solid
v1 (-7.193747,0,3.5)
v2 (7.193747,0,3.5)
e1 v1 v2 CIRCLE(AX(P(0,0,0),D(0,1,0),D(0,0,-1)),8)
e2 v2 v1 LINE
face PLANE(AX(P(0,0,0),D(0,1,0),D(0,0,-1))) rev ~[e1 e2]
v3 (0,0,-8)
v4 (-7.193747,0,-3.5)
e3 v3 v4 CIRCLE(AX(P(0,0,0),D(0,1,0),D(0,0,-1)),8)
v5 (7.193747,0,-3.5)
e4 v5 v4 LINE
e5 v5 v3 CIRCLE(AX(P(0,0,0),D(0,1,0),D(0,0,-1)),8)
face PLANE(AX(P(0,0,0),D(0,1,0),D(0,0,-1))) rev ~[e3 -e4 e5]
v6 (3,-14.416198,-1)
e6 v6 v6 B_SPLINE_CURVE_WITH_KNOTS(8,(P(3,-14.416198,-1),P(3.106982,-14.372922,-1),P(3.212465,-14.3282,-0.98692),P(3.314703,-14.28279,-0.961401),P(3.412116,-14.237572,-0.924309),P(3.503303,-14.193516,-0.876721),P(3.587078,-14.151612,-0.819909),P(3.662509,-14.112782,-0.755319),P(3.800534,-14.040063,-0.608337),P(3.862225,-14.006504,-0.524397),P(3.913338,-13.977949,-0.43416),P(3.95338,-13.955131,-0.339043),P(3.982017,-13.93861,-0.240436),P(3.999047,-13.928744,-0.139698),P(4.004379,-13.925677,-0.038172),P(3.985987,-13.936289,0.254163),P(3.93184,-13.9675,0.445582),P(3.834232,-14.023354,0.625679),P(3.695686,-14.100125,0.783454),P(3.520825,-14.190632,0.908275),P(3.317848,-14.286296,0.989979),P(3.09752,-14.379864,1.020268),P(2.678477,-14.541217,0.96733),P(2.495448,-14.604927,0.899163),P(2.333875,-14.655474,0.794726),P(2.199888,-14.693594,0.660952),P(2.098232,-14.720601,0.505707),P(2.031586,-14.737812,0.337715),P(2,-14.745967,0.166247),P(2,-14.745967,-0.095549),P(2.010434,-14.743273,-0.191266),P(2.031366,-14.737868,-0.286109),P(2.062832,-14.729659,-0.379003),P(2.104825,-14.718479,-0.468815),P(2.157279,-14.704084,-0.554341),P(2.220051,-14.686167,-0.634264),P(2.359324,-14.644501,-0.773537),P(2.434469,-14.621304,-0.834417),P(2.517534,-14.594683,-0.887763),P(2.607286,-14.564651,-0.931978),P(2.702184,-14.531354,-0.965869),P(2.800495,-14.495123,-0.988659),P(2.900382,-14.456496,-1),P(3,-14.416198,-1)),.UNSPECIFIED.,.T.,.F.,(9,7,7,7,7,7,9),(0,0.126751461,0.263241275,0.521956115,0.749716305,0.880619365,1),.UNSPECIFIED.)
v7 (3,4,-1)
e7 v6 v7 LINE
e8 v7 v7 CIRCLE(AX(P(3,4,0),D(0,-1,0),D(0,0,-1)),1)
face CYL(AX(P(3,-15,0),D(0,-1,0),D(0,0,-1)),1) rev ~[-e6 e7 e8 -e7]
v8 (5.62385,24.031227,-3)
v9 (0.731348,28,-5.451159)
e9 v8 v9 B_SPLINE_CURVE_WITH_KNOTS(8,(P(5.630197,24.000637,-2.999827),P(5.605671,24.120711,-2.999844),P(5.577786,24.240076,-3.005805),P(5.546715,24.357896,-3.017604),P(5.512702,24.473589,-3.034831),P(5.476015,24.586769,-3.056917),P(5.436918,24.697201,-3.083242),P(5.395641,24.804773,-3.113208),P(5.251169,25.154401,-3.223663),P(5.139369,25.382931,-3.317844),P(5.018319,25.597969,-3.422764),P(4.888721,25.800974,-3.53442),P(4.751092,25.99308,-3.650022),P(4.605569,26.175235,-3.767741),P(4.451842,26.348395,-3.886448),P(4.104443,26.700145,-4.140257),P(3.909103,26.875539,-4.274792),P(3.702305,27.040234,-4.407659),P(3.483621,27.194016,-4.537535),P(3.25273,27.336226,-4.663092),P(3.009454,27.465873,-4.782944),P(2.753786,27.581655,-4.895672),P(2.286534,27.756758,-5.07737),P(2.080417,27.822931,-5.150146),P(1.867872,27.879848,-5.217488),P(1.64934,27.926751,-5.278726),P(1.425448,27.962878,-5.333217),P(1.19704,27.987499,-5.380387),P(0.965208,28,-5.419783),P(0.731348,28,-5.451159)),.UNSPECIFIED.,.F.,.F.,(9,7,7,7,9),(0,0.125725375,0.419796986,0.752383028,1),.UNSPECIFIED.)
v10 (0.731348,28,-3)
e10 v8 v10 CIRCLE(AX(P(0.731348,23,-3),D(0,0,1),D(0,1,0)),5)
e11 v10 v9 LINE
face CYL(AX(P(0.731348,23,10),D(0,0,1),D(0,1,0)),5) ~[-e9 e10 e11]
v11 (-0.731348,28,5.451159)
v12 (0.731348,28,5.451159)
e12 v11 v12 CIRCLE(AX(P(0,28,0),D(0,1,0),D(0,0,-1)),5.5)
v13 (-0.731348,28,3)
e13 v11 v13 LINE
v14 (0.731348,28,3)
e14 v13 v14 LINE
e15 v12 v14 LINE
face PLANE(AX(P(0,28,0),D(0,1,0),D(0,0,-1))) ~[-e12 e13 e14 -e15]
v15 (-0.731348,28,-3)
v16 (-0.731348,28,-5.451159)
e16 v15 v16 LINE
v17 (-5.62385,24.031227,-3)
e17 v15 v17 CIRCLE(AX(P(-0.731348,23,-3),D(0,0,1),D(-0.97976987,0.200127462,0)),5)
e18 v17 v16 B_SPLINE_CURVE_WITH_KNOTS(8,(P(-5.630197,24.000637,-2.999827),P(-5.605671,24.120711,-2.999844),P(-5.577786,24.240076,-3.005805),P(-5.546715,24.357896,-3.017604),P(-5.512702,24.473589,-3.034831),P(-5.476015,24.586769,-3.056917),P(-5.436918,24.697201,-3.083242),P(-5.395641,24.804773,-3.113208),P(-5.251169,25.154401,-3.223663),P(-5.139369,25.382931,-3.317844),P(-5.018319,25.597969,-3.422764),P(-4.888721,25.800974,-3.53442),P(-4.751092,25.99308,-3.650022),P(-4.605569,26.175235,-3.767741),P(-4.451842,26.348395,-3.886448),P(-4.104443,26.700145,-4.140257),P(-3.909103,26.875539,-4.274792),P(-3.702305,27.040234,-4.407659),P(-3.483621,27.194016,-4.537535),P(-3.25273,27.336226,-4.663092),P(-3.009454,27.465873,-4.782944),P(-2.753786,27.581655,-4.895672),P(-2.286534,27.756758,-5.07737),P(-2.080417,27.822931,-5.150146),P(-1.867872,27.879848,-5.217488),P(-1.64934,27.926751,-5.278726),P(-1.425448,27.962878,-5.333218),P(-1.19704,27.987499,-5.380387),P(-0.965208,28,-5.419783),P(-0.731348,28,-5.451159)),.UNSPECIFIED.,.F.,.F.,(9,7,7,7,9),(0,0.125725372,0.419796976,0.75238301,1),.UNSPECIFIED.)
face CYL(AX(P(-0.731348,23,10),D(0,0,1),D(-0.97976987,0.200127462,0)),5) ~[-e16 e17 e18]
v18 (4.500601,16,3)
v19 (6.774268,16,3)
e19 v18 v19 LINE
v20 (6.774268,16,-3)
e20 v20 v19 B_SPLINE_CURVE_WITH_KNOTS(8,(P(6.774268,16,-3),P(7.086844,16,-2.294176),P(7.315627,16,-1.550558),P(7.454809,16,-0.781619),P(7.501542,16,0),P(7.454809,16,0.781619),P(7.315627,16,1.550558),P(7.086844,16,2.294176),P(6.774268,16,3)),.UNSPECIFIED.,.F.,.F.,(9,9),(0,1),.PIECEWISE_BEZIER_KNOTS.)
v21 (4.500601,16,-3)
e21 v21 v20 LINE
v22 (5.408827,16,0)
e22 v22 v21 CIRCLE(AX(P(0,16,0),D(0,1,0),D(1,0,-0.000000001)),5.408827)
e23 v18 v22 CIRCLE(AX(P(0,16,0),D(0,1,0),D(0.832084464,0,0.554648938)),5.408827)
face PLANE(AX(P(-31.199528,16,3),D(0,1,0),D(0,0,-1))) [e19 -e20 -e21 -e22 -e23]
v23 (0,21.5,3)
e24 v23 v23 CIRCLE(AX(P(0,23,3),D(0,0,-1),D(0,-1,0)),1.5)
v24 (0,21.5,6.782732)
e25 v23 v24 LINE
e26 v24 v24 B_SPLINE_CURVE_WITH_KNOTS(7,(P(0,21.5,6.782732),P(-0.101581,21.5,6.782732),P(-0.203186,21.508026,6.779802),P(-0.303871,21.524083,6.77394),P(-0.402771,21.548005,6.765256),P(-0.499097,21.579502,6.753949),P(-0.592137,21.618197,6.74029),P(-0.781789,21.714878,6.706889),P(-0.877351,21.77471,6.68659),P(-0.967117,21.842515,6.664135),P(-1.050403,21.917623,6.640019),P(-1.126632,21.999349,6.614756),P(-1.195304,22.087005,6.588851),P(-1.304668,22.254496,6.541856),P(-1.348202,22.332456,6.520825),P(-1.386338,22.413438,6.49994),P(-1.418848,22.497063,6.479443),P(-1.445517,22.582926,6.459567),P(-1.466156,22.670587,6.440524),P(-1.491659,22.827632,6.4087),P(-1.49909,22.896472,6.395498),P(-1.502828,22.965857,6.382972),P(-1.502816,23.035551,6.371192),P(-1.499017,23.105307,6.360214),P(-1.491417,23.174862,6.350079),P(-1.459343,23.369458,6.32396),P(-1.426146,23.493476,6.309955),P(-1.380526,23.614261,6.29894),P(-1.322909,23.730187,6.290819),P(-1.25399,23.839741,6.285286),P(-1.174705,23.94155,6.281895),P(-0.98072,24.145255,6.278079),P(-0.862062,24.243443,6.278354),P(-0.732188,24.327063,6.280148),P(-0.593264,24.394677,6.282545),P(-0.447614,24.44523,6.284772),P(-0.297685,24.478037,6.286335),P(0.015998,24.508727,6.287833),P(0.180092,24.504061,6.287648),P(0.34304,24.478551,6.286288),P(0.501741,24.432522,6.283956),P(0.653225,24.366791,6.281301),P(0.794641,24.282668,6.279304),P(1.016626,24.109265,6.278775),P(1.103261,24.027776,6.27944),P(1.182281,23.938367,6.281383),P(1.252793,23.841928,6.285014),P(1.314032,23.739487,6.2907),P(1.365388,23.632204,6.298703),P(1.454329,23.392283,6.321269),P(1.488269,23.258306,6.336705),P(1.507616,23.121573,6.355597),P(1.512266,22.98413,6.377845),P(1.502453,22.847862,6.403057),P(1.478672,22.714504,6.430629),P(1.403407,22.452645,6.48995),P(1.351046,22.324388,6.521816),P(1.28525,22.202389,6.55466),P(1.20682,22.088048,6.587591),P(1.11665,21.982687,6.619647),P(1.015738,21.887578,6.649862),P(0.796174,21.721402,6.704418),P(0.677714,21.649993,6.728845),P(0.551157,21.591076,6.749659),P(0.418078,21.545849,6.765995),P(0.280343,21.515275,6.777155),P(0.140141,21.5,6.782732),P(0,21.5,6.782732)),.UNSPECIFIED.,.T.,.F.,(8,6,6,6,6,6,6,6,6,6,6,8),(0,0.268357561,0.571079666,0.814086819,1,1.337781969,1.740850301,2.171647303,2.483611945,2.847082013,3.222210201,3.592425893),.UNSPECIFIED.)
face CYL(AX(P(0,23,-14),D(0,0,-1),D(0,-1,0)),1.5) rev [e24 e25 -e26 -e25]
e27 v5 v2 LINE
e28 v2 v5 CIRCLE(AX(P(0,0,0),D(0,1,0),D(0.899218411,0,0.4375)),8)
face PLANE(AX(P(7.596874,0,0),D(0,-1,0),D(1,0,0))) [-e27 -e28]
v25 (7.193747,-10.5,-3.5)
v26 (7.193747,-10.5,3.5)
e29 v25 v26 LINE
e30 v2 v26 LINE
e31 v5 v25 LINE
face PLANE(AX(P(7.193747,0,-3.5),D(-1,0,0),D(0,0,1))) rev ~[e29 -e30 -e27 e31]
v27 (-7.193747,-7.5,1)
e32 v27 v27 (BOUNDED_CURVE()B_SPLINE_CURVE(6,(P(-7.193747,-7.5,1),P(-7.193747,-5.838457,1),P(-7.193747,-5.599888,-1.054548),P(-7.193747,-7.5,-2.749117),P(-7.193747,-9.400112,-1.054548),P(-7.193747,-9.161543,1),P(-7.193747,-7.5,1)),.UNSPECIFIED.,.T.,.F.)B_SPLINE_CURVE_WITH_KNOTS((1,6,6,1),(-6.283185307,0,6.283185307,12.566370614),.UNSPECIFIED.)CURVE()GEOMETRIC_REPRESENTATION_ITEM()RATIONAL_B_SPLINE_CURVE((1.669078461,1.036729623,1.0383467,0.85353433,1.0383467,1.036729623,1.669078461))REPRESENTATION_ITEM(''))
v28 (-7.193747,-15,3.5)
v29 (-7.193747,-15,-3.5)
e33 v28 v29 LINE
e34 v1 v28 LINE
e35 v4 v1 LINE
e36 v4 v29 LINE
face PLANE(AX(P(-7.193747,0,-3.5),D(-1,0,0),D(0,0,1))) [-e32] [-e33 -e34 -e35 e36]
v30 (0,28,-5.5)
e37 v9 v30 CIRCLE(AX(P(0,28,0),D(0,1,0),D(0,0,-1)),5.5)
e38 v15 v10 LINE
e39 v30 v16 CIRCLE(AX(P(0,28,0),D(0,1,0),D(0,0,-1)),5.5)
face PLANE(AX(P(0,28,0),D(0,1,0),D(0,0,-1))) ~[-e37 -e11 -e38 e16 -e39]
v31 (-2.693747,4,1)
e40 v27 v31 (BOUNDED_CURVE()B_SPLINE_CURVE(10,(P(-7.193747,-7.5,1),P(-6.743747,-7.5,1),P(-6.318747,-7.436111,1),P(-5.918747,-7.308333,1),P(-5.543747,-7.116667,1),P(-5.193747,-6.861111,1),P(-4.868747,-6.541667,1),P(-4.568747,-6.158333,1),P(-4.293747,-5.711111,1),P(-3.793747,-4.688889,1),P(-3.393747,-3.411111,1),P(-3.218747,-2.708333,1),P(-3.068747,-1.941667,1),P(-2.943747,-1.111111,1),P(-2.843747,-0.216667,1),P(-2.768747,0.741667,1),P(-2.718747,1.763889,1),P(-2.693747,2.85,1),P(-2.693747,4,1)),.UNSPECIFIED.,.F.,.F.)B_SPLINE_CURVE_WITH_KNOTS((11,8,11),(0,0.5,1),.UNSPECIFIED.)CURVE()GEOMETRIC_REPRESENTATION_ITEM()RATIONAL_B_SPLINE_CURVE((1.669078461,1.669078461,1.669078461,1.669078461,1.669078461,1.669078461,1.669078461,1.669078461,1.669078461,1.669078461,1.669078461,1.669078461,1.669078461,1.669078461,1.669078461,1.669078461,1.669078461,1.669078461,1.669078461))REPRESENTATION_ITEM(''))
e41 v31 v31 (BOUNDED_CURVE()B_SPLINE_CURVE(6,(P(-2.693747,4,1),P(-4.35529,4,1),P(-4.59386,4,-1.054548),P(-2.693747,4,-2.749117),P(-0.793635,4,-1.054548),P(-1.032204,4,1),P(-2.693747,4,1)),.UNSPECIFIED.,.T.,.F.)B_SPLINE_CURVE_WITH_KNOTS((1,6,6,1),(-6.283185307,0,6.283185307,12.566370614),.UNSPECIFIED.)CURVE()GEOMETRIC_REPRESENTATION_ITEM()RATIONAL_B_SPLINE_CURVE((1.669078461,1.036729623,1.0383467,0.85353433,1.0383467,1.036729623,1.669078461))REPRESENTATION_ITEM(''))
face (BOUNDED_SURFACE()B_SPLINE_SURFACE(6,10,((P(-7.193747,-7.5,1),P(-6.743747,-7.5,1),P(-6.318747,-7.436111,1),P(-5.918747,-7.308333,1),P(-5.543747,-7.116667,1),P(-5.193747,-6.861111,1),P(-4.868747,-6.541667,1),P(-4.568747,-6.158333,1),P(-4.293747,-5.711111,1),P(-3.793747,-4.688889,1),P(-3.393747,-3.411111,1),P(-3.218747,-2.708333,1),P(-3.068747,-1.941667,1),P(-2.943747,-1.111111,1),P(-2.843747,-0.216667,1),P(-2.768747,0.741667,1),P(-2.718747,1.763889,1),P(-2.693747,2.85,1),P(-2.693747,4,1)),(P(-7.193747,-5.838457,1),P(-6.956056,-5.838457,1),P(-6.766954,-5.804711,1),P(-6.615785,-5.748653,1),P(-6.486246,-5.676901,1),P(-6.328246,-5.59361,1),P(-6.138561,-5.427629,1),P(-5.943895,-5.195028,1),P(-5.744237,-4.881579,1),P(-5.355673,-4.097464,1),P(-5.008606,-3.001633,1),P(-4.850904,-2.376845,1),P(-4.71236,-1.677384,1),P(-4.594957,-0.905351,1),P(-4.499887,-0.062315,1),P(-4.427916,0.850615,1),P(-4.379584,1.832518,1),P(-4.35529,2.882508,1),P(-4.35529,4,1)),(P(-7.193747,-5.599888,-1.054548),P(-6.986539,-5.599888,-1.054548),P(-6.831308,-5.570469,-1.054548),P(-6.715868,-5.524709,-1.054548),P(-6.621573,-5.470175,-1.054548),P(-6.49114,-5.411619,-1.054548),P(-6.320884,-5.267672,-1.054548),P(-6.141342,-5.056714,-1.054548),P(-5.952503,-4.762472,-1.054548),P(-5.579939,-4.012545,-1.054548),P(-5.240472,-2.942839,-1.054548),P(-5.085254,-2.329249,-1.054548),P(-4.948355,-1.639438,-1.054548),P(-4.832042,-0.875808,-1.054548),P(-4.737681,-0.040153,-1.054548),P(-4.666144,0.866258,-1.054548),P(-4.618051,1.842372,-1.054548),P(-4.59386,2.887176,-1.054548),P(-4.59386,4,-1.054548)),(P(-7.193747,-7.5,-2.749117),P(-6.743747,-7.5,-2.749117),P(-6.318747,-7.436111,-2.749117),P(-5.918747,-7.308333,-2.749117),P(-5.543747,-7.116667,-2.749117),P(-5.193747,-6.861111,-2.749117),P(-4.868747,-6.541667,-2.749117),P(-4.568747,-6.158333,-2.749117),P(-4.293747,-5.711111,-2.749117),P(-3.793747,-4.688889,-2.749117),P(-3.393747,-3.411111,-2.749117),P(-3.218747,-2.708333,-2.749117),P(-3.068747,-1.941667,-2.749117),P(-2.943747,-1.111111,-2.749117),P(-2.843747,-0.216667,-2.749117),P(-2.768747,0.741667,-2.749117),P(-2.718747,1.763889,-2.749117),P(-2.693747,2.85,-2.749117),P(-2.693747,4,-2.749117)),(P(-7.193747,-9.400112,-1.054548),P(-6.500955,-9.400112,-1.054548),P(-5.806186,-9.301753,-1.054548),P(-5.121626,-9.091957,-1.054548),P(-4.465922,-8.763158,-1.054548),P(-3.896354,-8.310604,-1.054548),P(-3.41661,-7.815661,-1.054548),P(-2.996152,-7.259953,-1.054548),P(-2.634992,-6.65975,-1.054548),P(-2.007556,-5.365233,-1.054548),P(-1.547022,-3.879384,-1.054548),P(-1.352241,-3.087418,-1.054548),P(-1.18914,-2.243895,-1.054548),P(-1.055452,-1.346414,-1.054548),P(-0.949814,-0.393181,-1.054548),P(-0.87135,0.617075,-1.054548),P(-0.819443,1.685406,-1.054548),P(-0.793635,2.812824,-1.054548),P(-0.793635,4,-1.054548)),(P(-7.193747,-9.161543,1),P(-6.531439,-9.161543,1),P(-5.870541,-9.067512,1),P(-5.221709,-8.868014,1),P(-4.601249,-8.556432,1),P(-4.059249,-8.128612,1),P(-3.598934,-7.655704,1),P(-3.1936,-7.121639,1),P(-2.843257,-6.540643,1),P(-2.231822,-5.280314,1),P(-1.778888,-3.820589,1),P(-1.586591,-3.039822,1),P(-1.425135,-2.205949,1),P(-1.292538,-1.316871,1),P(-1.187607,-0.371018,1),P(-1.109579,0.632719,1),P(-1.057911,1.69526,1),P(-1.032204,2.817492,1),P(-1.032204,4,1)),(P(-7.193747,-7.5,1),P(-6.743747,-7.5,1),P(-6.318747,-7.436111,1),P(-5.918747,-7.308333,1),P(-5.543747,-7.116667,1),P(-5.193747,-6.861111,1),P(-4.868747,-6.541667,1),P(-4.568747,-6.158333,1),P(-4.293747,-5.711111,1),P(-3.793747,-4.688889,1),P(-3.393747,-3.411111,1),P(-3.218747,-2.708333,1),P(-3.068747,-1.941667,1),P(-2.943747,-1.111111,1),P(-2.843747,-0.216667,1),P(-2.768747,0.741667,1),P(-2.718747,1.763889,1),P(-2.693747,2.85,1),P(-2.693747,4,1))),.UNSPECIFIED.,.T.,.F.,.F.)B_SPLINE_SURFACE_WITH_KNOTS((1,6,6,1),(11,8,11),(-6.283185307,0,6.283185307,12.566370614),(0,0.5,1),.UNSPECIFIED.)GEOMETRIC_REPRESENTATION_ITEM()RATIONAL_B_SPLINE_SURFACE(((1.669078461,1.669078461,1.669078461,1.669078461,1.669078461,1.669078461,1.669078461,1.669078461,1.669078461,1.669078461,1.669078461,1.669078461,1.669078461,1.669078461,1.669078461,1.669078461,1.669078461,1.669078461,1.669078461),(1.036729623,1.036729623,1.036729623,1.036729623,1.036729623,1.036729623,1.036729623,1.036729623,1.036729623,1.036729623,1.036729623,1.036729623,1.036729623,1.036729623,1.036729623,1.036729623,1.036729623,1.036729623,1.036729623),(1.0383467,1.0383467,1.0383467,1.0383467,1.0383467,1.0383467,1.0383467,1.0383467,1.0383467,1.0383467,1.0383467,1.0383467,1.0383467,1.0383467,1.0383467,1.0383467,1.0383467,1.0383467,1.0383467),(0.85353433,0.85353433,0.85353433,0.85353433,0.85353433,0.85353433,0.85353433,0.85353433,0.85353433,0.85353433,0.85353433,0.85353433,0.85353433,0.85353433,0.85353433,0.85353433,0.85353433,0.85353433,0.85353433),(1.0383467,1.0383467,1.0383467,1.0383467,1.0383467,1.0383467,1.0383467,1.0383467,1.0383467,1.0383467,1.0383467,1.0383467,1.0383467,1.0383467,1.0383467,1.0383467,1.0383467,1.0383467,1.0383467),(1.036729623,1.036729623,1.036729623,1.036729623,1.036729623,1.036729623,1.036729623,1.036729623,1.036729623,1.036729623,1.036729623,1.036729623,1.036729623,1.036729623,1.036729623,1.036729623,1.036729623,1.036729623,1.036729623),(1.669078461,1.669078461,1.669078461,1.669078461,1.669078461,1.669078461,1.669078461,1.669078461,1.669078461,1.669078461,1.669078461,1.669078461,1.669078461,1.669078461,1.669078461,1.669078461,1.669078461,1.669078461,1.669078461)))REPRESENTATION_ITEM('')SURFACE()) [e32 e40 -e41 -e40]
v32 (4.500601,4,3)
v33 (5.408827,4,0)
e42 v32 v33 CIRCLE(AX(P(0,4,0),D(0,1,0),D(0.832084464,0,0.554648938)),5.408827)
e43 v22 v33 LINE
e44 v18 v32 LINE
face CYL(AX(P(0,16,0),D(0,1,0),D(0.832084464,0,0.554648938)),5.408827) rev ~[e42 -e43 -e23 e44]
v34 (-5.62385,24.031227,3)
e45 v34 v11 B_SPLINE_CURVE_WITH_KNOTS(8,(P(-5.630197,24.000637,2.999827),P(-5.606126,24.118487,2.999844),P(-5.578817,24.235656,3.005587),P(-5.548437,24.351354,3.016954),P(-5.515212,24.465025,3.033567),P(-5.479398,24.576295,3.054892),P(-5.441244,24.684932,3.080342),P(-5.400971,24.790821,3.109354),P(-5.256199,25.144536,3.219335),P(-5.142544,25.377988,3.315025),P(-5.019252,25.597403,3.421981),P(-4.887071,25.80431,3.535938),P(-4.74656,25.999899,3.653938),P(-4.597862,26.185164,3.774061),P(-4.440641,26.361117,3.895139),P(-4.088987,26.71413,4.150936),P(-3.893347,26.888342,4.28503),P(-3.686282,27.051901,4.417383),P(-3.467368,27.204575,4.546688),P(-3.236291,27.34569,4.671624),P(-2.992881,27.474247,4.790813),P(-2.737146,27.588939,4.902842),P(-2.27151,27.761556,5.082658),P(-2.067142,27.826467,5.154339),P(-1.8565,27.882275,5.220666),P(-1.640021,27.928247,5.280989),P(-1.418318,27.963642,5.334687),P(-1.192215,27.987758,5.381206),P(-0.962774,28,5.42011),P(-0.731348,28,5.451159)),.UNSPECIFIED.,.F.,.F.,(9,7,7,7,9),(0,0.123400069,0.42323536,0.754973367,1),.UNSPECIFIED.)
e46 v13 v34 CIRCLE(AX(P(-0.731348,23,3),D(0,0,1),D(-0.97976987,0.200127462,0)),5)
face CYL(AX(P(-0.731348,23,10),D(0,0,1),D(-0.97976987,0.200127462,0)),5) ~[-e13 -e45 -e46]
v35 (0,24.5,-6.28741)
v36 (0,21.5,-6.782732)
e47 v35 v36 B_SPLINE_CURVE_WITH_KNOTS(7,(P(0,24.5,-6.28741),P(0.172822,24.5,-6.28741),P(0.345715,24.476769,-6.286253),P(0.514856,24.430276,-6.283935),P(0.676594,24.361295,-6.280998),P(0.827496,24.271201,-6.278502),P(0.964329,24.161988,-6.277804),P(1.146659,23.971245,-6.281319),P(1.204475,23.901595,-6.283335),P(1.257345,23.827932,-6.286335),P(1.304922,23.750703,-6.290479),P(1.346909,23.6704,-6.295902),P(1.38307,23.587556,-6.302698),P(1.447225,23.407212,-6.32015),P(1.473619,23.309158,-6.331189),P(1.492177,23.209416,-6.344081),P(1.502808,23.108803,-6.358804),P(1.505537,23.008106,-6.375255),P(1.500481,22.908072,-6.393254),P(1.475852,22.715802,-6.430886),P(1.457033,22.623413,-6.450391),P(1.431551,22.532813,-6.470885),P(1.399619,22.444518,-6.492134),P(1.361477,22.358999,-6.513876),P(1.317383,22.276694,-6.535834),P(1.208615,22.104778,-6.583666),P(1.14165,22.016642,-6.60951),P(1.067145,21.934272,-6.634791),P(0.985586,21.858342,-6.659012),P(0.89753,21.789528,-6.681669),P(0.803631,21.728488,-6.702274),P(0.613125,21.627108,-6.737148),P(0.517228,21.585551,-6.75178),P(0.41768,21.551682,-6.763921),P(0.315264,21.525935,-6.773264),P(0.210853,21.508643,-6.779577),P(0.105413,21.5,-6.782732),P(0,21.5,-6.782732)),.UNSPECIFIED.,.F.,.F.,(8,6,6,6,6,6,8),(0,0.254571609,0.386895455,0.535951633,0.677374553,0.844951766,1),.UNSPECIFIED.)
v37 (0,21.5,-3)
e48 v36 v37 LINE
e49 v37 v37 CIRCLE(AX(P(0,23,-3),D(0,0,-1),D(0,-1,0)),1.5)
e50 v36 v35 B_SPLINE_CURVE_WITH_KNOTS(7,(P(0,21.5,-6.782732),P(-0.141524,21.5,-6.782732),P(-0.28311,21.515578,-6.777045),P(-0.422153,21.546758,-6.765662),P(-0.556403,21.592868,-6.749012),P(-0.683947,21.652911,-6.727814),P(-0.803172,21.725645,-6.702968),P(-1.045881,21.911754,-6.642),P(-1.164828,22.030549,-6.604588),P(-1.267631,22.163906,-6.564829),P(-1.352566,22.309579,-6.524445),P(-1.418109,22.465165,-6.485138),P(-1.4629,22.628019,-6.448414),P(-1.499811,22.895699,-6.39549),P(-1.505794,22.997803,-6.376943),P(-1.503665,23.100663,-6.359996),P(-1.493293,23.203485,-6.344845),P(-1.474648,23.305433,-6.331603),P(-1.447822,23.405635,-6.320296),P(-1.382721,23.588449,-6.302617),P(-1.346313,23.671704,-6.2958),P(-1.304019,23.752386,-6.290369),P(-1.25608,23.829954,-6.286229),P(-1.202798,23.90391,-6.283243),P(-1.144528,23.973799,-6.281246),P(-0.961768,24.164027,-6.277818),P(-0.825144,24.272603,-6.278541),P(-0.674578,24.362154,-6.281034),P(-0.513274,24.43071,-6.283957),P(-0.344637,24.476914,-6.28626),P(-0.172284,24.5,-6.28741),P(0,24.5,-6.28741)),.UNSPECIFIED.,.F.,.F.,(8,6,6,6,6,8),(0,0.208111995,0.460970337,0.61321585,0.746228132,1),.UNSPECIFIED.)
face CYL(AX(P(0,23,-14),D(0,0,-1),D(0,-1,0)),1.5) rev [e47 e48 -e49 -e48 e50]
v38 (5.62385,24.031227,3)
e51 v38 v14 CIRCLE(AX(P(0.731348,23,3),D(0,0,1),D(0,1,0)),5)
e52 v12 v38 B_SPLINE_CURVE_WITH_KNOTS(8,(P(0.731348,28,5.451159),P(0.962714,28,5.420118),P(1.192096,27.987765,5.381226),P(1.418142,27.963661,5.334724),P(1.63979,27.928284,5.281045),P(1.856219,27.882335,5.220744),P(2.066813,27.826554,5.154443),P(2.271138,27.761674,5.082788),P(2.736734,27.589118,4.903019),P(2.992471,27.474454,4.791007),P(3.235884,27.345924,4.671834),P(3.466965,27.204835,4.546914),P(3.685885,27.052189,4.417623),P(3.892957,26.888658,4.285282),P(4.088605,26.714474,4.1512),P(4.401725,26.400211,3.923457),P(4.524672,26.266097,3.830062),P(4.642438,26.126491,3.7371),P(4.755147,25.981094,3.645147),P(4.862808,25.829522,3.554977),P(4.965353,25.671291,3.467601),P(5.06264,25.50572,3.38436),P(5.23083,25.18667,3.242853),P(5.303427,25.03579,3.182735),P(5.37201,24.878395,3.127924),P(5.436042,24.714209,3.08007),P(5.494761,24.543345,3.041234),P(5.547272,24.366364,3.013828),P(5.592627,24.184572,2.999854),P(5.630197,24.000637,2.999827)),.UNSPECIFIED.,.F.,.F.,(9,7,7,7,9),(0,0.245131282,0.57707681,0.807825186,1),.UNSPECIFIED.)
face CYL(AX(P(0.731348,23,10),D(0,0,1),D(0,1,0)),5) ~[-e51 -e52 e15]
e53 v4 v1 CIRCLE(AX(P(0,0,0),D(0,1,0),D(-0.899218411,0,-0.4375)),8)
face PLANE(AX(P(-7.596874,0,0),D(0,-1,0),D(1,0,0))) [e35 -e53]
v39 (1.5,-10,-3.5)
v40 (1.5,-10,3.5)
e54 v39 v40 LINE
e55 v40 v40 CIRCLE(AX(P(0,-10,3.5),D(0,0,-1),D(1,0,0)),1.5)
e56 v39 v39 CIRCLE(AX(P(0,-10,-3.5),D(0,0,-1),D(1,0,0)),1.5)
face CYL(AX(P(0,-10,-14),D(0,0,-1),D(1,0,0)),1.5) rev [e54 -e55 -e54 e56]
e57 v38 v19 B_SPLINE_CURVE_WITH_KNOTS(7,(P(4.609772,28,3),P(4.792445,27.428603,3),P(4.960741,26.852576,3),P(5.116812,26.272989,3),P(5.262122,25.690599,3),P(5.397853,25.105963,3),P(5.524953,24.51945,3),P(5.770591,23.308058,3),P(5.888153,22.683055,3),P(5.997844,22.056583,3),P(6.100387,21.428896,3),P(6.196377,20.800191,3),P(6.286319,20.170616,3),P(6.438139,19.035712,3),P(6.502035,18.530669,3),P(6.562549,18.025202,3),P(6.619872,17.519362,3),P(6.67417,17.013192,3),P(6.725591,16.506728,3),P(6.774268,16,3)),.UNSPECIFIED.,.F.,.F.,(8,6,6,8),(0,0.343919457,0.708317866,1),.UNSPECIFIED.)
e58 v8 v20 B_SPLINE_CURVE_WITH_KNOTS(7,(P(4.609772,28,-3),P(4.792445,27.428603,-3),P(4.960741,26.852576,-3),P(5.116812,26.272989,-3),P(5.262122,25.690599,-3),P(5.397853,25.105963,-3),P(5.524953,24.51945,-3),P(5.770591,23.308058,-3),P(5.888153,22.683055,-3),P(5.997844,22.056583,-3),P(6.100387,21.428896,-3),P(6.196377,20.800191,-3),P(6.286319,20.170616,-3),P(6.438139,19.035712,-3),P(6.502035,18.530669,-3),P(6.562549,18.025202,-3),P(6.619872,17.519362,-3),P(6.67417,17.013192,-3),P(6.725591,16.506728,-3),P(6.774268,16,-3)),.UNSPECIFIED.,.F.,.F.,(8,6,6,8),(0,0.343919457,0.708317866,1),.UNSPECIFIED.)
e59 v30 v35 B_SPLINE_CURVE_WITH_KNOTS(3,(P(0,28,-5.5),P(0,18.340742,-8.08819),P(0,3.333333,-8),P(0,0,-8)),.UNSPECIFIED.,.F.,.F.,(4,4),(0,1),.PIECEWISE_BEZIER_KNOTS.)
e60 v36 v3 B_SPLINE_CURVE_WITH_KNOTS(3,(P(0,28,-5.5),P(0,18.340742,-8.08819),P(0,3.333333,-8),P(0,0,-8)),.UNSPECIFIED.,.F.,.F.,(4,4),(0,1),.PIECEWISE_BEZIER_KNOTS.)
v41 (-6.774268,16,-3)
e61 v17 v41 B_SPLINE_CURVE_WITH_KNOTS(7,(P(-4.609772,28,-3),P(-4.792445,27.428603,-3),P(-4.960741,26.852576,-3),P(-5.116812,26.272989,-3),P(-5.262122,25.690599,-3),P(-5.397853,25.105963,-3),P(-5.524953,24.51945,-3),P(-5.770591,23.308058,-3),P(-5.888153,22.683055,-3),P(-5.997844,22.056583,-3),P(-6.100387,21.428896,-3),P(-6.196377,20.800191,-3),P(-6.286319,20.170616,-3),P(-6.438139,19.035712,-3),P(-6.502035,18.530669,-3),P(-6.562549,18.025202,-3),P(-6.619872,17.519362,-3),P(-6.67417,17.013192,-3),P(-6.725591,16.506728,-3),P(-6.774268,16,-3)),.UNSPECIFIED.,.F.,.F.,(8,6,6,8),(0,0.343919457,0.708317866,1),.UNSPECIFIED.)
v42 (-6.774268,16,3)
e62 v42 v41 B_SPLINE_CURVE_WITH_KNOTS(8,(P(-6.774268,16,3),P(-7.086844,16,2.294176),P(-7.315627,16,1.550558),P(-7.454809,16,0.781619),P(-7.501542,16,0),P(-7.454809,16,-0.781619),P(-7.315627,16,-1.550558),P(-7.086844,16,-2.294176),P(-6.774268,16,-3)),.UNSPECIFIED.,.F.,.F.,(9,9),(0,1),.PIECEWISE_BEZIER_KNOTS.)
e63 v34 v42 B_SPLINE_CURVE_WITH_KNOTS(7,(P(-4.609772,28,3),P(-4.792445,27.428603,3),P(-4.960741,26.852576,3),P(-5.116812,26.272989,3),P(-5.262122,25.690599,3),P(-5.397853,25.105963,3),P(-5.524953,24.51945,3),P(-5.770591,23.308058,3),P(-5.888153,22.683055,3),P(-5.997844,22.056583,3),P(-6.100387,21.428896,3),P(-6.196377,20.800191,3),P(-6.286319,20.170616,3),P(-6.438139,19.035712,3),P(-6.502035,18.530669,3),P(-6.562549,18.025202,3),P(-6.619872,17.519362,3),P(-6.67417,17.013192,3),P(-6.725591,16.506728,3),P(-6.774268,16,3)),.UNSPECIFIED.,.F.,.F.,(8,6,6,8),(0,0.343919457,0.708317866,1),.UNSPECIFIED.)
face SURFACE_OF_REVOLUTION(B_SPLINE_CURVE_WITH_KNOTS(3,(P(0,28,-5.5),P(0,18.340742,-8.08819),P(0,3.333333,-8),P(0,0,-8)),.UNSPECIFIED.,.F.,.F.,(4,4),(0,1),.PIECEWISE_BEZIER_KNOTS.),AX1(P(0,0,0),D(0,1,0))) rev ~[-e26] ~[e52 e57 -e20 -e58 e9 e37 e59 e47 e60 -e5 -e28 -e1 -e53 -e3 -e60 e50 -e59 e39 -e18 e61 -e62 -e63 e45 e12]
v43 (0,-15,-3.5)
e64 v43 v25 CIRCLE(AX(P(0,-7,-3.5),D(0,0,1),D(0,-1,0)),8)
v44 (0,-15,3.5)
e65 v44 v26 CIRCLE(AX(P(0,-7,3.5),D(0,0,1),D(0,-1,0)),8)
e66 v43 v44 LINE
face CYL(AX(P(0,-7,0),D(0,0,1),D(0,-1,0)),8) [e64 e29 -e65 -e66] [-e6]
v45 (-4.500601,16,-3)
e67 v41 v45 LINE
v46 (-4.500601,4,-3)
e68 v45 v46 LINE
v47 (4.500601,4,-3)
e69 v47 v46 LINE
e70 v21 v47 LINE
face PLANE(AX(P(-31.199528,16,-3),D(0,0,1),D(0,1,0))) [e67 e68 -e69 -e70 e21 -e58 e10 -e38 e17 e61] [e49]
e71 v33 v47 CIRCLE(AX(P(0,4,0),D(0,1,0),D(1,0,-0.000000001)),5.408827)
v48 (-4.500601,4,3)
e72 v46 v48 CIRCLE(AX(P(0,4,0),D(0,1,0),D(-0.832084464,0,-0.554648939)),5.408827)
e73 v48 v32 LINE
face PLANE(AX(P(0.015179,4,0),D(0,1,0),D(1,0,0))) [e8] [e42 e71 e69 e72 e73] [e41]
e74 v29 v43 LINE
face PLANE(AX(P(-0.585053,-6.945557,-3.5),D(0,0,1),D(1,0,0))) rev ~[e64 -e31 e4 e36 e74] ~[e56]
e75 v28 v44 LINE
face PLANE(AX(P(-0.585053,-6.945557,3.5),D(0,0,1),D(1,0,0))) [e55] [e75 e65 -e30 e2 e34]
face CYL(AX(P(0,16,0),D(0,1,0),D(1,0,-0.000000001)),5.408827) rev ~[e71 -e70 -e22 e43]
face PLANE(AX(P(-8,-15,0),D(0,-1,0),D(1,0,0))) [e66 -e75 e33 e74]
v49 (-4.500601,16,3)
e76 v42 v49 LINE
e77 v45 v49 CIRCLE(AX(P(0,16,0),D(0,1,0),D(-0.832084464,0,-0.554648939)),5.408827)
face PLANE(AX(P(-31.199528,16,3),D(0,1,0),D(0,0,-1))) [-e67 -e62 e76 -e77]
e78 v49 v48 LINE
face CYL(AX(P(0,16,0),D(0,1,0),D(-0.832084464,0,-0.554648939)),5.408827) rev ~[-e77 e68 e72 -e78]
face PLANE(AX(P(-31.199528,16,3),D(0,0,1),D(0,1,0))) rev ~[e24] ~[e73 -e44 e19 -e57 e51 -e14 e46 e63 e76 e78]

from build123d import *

# Parameters (mm, degrees)
CUT_EXTRUDE1_DEPTH      = 31.199528082
CUT_EXTRUDE1_DEPTH_BACK = 31.199528082
SKETCH2_W               = 6
SKETCH2_H               = 12
BOSS_EXTRUDE1_DEPTH     = 3.5
CUT_EXTRUDE4_DEPTH      = 45.463597463
CUT_EXTRUDE4_DEPTH_BACK = 15
SKETCH4_W               = 0.806252715
SKETCH4_H               = 7
CUT_EXTRUDE5_DEPTH      = 14
CUT_EXTRUDE5_DEPTH_BACK = 14
SKETCH5_R               = 1.5
CUT_EXTRUDE6_DEPTH      = 12
CUT_EXTRUDE7_START      = 10
CUT_EXTRUDE7_DEPTH      = 18
SKETCH8_R               = 1
CUT_EXTRUDE8_DEPTH      = 45.463597463
SKETCH9_R               = 1


with BuildPart() as part:
    # Sketch1 → Revolve1 (revolve)
    with BuildSketch(Plane(origin=(0, 0, 0), x_dir=(0, 0, -1), z_dir=(1, 0, 0))):
        with BuildLine():
            Line((0, 0), (0, 28))
            Line((0, 28), (5.5, 28))
            add(Edge.make_bspline(
                [(5.5, 28), (8.088190451, 18.340741737), (8, 3.333333333), (8, 0)],
                knots=[0, 0, 0, 0, 1, 1, 1, 1], degree=3))
            Line((8, 0), (0, 0))
        make_face()
    revolve(axis=Axis((0, 0, 0), (0, 1, 0)))

    # Sketch2 → Cut-Extrude1 (cut, two sides: drawn at the far end of the back side and taken through both)
    with BuildSketch(Plane(origin=(0, 0, 0), x_dir=(0, 0, -1), z_dir=(1, 0, 0)).offset(-CUT_EXTRUDE1_DEPTH_BACK)):
        with Locations((0, 22)):
            Rectangle(SKETCH2_W, SKETCH2_H)
    extrude(amount=CUT_EXTRUDE1_DEPTH + CUT_EXTRUDE1_DEPTH_BACK, mode=Mode.SUBTRACT)

    # Sketch3 → Boss-Extrude1 (add, symmetric)
    with BuildSketch(Plane.XY):
        with BuildLine():
            Line((-8, 0), (-8, -15))
            Line((-8, -15), (0, -15))
            ThreePointArc((0, -15), (5.656854249, -12.656854249), (8, -7))
            Line((8, -7), (8, 0))
            Line((8, 0), (-8, 0))
        make_face()
    extrude(amount=BOSS_EXTRUDE1_DEPTH, both=True)

    # Sketch4 → Cut-Extrude4 (cut, two sides: drawn at the far end of the back side and taken through both)
    with BuildSketch(Plane.XZ.offset(15).offset(-CUT_EXTRUDE4_DEPTH_BACK)):
        with Locations((-7.596873643, 0)):
            Rectangle(SKETCH4_W, SKETCH4_H)
        with Locations((7.596873643, 0)):
            Rectangle(SKETCH4_W, SKETCH4_H)
    extrude(amount=CUT_EXTRUDE4_DEPTH + CUT_EXTRUDE4_DEPTH_BACK, mode=Mode.SUBTRACT)

    # Sketch5 → Cut-Extrude5 (cut, two sides: drawn at the far end of the back side and taken through both)
    with BuildSketch(Plane.XY.offset(-CUT_EXTRUDE5_DEPTH_BACK)):
        with Locations(Location((0, 23, 0), (0, 0, 270))):
            Circle(SKETCH5_R)
        with Locations((0, -10)):
            Circle(SKETCH5_R)
    extrude(amount=CUT_EXTRUDE5_DEPTH + CUT_EXTRUDE5_DEPTH_BACK, mode=Mode.SUBTRACT)

    # Sketch6 → Cut-Extrude6 (cut)
    with BuildSketch(Plane(origin=(0, 16, 0), x_dir=(1, 0, 0), z_dir=(0, 1, 0))):
        with BuildLine():
            ThreePointArc((-4.500600684, 3), (-5.408826723, 0), (-4.500600684, -3))
            Line((-4.500600684, -3), (4.500600684, -3))
            ThreePointArc((4.500600684, -3), (5.176793204, -1.567232795), (5.408826723, 0))
            ThreePointArc((5.408826723, 0), (5.176793204, 1.567232795), (4.500600684, 3))
            Line((4.500600684, 3), (-4.500600684, 3))
        make_face()
    extrude(amount=-CUT_EXTRUDE6_DEPTH, mode=Mode.SUBTRACT)

    # Sketch7 → Cut-Extrude7 (cut)
    with BuildSketch(Plane.XY.offset(CUT_EXTRUDE7_START)):
        with BuildLine():
            add(Edge.make_bspline(
                [(4.609772229, 28), (4.921871239, 27.023759734), (5.179569274, 26.037706908), (5.483962232, 24.698137834), (5.558895001, 24.349714977), (5.630197487, 24.00063731)],
                knots=[0, 0, 0, 0, 0.25, 0.25, 0.337633548, 0.337633548, 0.337633548, 0.337633548], degree=3))
            Line((4.609772229, 28), (0.731348135, 28))
            ThreePointArc((0.731348135, 28), (3.893373866, 26.873189032), (5.630197487, 24.00063731))
        make_face()
        with BuildLine():
            ThreePointArc((-5.630197487, 24.00063731), (-3.893373866, 26.873189032), (-0.731348135, 28))
            Line((-0.731348135, 28), (-4.609772229, 28))
            add(Edge.make_bspline(
                [(-5.630197487, 24.00063731), (-5.558895001, 24.349714977), (-5.483962232, 24.698137834), (-5.179569274, 26.037706908), (-4.921871239, 27.023759734), (-4.609772229, 28)],
                knots=[0.662366452, 0.662366452, 0.662366452, 0.662366452, 0.75, 0.75, 1, 1, 1, 1], degree=3))
        make_face()
    extrude(amount=-CUT_EXTRUDE7_DEPTH, mode=Mode.SUBTRACT)

    # Sketch8 → Cut-Extrude8 (cut, through all)
    with BuildSketch(Plane.XZ.offset(15)):
        with Locations(Location((3, 0, 0), (0, 0, 270))):
            Circle(SKETCH8_R)
    extrude(amount=-CUT_EXTRUDE8_DEPTH, mode=Mode.SUBTRACT)

    # Cut-Sweep1: sweep along a path in Sketch10
    with BuildLine() as cut_sweep1_path:  # in the path sketch's own coordinates; laid on its plane below (add() does not lay a ready-made edge on the line's plane)
        add(Edge.make_bspline(
            [(-7.193747285, -7.5), (-2.693747285, -7.5), (-2.693747285, 4)],
            knots=[0, 0, 0, 1, 1, 1], degree=2))
    # Sketch9 → Cut-Sweep1 (sweep, cut)
    with BuildSketch(Plane.ZY.offset(7.193747285)):
        with Locations((0, -7.5)):
            Circle(SKETCH9_R)
    sweep(path=Plane.XY * cut_sweep1_path.line, mode=Mode.SUBTRACT)


solid = part.part
